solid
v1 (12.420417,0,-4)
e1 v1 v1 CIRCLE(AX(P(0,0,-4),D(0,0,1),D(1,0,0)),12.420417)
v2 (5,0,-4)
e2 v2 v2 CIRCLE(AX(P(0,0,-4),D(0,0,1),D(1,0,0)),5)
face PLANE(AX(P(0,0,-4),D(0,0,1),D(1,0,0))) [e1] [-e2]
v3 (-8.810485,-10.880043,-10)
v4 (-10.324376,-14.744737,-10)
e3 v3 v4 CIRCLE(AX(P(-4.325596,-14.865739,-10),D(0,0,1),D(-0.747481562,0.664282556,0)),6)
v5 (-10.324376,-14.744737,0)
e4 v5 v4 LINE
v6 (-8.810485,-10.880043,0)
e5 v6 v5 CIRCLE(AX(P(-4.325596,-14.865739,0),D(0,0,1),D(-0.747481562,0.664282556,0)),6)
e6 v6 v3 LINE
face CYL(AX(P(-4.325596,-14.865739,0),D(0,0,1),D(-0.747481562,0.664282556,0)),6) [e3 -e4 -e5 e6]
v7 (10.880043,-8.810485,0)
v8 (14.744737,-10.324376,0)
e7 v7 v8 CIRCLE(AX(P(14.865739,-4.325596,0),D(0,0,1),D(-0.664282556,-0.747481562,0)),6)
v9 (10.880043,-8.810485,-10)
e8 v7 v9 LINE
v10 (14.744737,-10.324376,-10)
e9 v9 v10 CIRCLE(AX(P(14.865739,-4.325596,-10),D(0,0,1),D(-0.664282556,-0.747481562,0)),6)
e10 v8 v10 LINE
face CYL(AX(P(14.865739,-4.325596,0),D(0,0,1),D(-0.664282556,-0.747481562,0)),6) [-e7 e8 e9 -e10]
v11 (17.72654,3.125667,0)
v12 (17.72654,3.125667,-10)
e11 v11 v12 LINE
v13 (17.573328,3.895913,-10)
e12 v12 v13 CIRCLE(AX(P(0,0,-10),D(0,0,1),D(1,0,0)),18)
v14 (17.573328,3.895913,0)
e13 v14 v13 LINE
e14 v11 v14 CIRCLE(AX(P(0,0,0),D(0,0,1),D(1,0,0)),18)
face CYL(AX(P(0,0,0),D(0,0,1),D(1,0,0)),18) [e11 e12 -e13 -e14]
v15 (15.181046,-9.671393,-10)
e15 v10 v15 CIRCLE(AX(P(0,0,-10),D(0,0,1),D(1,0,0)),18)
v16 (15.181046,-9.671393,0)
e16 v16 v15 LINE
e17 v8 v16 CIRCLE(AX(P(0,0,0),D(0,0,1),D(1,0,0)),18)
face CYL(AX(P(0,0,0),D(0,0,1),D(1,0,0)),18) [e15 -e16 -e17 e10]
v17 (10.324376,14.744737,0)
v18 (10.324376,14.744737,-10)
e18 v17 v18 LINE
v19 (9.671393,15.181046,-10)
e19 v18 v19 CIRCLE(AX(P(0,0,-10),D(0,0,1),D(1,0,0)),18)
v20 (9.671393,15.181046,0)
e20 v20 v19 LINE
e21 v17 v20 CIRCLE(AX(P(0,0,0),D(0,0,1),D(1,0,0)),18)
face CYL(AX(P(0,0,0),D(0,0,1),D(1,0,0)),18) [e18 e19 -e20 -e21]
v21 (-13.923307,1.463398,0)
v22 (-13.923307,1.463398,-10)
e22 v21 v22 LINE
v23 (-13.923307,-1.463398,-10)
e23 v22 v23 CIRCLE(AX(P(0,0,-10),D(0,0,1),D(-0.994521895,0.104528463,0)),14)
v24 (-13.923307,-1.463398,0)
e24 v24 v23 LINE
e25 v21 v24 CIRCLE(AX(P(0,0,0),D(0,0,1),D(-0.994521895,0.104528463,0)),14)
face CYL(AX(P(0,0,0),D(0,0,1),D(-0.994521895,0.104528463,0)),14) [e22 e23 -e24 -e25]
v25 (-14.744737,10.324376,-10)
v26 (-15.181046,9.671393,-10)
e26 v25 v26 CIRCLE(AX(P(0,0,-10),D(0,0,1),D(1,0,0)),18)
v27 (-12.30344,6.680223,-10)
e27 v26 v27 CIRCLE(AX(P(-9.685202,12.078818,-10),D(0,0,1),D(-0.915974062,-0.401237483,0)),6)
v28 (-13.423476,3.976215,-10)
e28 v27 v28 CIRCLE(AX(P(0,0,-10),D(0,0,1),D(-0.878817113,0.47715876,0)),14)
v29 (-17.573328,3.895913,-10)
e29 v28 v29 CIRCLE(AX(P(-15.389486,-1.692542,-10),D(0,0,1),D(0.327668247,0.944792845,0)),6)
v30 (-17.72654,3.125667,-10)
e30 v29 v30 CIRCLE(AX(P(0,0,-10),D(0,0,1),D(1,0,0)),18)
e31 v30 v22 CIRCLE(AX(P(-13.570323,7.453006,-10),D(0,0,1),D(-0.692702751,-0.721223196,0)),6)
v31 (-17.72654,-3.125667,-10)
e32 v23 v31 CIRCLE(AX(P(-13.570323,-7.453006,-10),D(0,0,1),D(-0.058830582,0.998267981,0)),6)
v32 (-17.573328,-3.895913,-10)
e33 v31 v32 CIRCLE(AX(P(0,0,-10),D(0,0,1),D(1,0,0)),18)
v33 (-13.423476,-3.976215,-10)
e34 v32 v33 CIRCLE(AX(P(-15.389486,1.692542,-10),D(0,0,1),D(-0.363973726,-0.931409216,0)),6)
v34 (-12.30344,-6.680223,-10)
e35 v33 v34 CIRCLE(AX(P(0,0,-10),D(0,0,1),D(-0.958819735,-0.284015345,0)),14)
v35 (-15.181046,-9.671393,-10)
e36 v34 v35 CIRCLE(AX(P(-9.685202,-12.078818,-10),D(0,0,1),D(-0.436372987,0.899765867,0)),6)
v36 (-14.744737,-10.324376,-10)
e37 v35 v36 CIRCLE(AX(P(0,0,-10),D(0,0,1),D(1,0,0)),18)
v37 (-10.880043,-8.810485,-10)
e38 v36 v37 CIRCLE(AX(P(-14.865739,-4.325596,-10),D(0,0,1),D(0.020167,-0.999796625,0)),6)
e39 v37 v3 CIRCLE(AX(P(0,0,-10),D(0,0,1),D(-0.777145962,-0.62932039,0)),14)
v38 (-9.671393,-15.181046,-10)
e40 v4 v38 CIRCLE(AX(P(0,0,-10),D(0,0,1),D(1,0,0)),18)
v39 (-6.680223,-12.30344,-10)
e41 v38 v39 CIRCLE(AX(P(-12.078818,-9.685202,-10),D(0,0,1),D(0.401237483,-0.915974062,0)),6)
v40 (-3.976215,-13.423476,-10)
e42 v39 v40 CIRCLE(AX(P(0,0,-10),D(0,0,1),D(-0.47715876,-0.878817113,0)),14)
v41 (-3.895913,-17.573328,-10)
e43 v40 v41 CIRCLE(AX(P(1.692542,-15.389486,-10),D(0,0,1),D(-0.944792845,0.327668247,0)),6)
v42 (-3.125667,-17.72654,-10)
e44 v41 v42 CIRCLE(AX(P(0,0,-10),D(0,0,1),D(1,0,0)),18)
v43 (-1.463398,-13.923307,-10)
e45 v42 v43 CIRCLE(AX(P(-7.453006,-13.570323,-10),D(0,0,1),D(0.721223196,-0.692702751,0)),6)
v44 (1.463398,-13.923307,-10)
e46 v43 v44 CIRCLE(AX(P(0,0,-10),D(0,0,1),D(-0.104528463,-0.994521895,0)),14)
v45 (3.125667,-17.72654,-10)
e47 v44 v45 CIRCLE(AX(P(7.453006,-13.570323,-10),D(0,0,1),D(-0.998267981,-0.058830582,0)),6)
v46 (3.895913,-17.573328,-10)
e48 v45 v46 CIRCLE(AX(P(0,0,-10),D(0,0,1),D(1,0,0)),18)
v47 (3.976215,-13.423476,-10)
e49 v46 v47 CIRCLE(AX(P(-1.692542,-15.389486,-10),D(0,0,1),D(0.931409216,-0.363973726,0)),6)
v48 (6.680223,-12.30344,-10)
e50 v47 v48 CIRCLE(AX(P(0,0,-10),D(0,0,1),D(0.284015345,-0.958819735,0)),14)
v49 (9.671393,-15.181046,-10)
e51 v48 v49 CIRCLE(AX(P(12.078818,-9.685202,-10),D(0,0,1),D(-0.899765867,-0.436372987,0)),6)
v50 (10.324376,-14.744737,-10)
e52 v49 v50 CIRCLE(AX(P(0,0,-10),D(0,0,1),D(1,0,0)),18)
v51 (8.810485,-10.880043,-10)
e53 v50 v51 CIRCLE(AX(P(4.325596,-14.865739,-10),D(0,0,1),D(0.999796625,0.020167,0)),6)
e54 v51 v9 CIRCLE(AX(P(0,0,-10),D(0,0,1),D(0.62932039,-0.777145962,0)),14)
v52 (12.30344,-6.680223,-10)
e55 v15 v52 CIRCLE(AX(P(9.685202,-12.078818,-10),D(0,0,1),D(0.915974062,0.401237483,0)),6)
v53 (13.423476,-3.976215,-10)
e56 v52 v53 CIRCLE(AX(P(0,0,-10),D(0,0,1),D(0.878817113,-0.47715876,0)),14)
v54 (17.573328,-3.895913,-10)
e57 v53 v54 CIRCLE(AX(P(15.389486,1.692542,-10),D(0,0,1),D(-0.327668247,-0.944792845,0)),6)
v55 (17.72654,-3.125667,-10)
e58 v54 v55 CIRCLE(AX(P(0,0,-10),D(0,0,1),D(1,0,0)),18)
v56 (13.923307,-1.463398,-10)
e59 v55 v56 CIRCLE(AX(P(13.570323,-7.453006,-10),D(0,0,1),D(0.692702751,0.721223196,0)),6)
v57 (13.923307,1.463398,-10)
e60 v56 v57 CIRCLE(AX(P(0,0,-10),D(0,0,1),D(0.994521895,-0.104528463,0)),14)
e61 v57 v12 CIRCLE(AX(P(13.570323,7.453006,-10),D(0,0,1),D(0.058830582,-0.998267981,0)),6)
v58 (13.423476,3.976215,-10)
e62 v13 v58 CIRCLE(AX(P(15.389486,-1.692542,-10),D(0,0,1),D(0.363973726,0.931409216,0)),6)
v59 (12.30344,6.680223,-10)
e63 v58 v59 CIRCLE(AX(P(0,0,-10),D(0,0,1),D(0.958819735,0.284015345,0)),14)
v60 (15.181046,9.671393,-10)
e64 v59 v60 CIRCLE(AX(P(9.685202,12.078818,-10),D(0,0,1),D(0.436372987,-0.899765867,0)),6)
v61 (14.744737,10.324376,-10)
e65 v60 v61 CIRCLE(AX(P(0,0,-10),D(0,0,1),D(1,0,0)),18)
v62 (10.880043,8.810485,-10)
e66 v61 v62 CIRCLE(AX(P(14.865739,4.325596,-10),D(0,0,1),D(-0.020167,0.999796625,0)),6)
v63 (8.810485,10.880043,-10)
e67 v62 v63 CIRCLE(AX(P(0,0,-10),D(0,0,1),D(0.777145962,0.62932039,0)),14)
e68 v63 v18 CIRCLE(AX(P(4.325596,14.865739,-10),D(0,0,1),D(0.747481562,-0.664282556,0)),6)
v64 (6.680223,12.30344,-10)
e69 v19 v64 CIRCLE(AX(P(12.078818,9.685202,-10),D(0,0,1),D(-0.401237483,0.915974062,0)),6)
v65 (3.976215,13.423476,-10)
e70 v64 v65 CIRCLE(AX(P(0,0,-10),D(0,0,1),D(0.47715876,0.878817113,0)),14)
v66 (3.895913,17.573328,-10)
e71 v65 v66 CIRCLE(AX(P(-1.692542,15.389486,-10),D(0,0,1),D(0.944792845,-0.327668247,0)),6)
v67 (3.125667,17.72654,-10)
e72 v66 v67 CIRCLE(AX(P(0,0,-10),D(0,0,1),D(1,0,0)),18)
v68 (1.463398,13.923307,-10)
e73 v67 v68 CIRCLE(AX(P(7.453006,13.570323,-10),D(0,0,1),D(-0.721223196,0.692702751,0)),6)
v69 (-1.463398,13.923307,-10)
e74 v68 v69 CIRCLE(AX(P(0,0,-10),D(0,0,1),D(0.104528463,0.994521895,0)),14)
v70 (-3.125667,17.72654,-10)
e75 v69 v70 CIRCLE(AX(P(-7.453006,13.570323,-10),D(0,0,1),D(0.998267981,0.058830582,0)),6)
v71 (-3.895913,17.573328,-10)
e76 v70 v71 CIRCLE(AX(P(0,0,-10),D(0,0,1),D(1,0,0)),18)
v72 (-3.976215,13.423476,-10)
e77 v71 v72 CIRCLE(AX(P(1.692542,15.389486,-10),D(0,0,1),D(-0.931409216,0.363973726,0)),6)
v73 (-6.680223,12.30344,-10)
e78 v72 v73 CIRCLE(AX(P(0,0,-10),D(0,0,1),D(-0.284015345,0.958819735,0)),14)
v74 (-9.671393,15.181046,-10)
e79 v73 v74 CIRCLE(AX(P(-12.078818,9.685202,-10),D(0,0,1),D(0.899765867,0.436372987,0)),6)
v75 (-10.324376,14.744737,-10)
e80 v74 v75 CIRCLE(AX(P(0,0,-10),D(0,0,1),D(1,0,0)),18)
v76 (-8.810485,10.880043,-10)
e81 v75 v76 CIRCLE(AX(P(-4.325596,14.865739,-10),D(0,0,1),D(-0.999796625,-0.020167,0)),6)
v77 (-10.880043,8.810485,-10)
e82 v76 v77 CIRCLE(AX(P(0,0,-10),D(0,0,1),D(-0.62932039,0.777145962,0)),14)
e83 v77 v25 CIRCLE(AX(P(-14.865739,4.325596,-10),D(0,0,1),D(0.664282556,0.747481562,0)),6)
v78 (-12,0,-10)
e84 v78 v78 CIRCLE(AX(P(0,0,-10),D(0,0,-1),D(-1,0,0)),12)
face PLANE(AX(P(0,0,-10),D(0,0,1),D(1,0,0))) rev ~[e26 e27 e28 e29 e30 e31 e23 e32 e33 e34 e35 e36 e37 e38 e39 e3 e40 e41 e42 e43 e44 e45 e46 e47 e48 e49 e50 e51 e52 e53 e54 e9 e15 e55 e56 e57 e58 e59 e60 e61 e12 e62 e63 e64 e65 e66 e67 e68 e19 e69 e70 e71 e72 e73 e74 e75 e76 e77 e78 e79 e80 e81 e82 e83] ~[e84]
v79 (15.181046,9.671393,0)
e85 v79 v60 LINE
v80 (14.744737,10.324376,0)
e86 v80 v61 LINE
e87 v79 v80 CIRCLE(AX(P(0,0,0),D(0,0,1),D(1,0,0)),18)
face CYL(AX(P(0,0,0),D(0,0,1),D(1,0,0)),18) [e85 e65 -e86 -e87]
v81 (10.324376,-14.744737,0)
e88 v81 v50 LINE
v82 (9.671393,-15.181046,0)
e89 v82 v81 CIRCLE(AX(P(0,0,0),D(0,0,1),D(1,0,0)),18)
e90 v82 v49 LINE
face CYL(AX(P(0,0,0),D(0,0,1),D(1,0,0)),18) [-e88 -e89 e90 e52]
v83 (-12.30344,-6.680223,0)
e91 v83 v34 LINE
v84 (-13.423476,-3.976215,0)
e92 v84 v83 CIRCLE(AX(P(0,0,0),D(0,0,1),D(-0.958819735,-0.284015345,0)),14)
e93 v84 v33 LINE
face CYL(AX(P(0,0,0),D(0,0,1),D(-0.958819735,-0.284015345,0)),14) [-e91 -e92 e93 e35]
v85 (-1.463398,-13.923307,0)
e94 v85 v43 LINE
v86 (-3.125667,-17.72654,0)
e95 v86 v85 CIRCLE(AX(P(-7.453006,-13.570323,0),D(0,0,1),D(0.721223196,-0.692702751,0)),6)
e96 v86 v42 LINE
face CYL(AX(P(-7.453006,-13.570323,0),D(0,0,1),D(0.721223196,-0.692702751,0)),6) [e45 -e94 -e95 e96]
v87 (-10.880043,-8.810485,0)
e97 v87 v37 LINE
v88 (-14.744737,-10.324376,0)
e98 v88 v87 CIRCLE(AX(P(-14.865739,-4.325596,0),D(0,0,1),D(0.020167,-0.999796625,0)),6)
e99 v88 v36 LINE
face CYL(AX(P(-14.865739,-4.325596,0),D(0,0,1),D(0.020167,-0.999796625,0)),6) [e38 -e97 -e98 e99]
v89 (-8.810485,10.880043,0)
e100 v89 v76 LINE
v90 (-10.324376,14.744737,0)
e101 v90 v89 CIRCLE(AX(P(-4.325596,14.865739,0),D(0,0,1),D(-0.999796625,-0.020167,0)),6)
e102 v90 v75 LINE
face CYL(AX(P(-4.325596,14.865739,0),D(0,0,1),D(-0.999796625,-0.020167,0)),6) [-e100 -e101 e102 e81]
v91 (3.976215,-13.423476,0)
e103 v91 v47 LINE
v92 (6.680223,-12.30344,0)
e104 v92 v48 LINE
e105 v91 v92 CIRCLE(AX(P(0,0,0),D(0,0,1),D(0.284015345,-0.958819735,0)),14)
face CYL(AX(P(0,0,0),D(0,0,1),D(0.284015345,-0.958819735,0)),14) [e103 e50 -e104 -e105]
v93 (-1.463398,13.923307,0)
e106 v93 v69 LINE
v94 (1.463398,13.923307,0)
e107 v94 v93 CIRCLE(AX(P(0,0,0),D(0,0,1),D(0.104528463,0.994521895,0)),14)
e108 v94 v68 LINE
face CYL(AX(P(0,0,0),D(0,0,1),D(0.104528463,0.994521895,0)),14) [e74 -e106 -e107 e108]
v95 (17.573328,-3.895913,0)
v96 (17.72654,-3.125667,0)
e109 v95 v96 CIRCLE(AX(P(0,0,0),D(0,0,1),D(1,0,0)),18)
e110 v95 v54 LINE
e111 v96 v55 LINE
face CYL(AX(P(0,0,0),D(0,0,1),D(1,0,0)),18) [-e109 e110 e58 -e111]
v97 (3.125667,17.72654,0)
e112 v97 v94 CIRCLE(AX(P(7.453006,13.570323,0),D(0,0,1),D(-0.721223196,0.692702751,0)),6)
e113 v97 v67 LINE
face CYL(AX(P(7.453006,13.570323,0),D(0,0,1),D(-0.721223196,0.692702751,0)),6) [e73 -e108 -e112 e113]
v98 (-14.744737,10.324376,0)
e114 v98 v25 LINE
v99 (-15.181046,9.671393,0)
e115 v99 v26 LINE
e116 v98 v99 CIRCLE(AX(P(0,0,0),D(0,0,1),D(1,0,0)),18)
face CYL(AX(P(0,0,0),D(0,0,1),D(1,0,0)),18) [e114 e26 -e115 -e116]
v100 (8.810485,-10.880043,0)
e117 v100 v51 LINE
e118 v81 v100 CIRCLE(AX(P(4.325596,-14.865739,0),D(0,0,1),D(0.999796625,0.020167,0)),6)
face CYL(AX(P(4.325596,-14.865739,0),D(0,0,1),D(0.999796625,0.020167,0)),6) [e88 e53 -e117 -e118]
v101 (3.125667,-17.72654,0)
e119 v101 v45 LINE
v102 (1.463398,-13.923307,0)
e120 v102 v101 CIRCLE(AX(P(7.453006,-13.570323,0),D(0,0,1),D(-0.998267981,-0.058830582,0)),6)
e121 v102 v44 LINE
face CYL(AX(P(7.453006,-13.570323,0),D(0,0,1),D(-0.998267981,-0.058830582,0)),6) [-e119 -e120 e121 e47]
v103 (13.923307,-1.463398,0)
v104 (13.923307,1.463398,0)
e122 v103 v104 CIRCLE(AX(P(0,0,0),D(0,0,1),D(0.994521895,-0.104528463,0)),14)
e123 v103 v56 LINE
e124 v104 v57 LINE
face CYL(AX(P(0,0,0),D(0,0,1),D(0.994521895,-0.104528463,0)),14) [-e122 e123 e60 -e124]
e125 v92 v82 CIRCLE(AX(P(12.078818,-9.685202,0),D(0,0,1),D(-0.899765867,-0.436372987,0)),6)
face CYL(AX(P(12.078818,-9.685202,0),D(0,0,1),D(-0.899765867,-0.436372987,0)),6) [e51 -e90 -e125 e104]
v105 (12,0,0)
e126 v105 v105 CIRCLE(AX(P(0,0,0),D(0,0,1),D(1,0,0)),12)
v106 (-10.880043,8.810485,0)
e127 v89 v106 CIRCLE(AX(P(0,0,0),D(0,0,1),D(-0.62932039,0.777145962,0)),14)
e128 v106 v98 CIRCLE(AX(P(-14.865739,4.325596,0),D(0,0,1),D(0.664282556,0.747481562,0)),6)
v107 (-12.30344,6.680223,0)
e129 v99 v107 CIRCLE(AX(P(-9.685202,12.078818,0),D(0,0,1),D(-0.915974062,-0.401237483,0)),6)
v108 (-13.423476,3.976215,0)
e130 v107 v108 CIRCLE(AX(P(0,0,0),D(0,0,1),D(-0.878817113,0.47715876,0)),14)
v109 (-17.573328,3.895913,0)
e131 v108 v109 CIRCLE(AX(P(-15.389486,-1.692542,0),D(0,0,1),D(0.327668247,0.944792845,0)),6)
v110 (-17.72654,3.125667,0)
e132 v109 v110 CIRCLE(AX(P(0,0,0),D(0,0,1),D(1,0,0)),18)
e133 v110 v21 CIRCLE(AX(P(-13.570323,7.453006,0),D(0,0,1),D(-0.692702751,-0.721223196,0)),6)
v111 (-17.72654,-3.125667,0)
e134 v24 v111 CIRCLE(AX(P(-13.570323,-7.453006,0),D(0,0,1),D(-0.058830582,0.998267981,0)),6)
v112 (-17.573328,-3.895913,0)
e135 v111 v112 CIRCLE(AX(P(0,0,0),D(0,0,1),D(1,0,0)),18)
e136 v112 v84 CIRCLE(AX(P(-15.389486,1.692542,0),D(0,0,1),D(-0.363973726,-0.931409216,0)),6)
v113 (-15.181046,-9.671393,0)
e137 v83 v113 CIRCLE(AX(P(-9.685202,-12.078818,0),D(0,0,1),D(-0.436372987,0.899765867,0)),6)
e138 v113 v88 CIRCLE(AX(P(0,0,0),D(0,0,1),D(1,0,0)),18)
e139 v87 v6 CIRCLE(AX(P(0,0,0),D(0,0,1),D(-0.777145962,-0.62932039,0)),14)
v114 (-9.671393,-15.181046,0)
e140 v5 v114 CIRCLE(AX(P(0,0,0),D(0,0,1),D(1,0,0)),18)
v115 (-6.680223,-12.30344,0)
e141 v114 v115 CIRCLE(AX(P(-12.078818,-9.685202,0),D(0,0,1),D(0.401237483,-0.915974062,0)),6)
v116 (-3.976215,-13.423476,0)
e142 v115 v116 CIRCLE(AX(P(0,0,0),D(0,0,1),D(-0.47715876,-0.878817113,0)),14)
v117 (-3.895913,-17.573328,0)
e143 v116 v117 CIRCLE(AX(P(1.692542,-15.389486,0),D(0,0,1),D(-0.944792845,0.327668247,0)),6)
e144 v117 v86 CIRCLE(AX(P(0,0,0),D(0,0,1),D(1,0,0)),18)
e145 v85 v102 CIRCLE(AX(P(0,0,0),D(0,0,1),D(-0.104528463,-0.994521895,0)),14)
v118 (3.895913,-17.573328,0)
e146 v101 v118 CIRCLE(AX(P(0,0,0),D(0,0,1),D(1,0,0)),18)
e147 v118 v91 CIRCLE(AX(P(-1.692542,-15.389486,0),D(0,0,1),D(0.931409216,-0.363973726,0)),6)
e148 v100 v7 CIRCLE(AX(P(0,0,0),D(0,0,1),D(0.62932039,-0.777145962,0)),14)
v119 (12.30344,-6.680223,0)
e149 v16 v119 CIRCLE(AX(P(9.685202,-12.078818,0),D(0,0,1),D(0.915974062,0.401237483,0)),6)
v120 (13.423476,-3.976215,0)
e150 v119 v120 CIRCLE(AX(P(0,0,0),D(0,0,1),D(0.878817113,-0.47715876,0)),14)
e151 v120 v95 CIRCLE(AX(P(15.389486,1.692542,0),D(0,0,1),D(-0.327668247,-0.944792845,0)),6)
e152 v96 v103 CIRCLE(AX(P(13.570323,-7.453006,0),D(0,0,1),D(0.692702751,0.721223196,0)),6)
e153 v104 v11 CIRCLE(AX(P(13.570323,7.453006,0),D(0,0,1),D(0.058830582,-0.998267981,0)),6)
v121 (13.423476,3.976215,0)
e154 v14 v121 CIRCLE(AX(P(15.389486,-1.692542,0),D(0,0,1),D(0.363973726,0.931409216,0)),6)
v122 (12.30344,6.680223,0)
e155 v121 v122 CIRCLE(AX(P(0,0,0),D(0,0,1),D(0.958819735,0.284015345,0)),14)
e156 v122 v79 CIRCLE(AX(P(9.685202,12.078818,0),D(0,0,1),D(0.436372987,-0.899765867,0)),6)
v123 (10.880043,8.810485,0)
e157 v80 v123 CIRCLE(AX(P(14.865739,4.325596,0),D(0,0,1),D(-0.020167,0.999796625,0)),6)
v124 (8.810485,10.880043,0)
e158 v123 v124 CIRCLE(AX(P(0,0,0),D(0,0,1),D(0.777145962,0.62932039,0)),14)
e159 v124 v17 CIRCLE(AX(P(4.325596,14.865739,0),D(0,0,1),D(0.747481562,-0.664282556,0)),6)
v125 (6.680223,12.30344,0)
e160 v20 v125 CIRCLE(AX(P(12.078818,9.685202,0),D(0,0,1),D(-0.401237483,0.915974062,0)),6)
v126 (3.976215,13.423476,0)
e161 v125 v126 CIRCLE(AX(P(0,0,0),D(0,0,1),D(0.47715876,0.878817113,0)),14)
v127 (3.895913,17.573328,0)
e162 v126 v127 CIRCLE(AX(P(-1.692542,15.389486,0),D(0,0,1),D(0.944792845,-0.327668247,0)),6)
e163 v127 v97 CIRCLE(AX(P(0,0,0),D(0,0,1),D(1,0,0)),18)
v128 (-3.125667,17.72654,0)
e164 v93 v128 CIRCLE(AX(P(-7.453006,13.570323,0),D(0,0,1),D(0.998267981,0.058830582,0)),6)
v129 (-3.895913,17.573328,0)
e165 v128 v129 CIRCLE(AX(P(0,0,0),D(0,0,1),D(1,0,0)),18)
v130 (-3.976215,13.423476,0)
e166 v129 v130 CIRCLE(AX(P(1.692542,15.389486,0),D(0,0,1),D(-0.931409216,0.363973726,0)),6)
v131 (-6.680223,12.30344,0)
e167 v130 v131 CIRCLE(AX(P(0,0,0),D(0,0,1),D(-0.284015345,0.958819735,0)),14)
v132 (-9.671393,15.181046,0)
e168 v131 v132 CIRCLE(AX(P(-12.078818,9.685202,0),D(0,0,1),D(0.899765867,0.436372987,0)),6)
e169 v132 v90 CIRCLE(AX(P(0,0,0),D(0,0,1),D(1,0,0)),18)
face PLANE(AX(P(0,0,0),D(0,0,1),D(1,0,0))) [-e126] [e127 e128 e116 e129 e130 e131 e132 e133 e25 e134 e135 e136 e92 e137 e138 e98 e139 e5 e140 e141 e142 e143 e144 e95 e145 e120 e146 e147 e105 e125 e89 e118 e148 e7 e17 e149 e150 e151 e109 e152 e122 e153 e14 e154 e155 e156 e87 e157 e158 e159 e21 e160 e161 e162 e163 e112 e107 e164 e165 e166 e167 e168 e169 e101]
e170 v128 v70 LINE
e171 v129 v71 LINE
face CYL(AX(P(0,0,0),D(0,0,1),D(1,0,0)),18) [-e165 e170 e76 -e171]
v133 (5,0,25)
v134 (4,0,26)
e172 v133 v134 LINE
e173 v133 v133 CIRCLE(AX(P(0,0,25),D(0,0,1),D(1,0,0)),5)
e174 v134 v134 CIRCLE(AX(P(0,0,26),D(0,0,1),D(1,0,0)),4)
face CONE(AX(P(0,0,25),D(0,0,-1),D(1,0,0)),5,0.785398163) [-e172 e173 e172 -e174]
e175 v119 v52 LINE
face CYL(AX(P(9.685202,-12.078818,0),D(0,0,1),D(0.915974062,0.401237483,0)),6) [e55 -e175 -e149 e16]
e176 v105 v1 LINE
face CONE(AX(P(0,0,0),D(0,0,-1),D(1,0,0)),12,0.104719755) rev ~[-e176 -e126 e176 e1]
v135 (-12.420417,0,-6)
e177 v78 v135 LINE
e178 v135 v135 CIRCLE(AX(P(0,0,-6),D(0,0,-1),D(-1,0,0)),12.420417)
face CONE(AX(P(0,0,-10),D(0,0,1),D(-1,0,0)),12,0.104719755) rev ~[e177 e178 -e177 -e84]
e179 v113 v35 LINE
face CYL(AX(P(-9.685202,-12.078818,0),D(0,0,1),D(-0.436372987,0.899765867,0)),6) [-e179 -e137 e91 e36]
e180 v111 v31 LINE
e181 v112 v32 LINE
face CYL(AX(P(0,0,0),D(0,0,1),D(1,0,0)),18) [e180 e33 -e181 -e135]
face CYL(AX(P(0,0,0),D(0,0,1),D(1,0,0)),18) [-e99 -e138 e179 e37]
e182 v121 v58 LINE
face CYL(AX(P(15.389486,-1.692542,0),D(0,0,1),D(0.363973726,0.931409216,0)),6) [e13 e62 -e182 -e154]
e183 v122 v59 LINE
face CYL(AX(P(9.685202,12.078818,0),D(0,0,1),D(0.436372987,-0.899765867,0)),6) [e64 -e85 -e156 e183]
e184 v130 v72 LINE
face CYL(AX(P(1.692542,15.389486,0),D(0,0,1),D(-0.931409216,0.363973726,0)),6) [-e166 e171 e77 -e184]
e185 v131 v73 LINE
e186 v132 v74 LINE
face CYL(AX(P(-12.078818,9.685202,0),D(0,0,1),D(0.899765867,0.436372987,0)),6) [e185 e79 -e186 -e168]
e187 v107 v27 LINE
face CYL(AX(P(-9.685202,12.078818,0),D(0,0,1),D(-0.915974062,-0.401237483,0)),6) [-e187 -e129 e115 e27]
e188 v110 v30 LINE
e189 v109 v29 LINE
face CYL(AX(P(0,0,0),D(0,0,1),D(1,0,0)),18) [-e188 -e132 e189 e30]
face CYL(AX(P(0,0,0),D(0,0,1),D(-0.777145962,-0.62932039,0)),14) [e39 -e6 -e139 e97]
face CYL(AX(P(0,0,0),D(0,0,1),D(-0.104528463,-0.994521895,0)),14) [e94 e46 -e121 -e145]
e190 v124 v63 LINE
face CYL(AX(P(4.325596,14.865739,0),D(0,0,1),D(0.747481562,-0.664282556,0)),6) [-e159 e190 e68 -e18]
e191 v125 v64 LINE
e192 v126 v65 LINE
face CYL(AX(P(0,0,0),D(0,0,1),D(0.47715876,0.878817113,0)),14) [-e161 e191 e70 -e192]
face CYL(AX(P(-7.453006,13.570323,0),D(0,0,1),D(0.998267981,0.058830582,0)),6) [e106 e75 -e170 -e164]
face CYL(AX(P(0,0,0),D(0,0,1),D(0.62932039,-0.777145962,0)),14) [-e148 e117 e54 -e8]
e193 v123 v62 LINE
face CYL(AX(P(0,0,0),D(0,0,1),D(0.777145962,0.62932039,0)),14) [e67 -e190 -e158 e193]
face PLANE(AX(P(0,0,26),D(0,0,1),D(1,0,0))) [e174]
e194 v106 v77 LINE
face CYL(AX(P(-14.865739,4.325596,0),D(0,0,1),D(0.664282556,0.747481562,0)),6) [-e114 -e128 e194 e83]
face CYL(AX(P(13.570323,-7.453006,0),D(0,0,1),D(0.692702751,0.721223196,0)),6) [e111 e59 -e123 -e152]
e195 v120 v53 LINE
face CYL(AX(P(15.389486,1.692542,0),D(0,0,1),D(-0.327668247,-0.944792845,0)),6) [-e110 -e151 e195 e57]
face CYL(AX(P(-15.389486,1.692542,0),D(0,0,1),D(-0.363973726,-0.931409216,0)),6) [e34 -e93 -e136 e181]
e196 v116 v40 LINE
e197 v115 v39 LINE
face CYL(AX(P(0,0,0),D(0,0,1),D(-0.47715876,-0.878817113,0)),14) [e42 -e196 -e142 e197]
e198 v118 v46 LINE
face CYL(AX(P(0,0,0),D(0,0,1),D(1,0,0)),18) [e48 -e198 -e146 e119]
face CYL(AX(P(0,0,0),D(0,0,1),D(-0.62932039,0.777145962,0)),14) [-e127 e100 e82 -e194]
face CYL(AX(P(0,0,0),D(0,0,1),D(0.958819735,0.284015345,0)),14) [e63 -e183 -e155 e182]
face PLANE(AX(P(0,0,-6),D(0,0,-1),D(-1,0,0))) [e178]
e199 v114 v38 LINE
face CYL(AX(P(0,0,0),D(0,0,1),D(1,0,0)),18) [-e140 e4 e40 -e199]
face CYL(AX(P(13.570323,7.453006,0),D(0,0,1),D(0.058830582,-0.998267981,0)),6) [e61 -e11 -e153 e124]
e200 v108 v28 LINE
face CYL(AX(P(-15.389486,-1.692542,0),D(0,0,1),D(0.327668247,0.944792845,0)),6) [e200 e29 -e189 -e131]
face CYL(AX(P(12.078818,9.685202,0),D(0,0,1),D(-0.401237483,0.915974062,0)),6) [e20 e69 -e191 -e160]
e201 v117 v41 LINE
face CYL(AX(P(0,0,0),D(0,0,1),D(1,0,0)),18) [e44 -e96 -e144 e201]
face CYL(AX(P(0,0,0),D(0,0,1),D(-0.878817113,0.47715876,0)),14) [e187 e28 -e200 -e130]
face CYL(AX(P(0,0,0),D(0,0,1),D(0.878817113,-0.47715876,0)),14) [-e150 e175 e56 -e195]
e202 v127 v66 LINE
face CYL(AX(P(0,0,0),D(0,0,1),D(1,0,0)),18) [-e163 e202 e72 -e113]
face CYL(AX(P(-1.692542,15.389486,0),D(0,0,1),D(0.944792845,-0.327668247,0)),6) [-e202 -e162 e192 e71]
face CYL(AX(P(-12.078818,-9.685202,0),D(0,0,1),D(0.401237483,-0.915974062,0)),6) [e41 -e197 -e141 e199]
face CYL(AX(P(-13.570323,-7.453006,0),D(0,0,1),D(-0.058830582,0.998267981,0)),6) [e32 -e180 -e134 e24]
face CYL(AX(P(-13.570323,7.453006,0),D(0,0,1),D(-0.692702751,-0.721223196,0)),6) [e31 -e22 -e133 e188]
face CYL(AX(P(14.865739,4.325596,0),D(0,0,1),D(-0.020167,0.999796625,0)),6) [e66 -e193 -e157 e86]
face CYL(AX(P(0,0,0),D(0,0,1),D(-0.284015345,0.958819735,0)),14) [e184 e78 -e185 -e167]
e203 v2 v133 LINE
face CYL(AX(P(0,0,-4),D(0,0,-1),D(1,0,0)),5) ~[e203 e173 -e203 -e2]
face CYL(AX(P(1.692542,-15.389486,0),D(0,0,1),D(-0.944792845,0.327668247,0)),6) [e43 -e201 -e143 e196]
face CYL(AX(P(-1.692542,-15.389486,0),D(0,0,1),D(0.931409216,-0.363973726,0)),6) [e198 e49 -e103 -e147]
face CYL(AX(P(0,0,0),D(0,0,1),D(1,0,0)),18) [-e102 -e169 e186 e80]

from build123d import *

# Parameters (mm, degrees)
SKETCH_1_R          = 18
EXTRUDE_1_DEPTH     = 10
CUT_EXTRUDE_2_DEPTH = 28.349588662
SKETCH_4_R          = 12
CUT_EXTRUDE_3_DEPTH = 4
CUT_EXTRUDE_3_DRAFT = 6
SKETCH_5_R          = 5
EXTRUDE_2_DEPTH     = 30
CHAMFER_1_SIZE      = 1
SKETCH_6_R          = 12
CUT_EXTRUDE_4_DEPTH = 4
CUT_EXTRUDE_4_DRAFT = 6


with BuildPart() as part:
    # Эскиз1 → Бобышка-Вытянуть1 (new body)
    with BuildSketch(Plane.XY):
        Circle(SKETCH_1_R)
    extrude(amount=-EXTRUDE_1_DEPTH)

    # Эскиз3 → Вырез-Вытянуть2 (cut, through all)
    with BuildSketch(Plane.XY):
        with BuildLine():
            ThreePointArc((1.463398486, 13.923306535), (0, 14), (-1.463398486, 13.923306535))
            ThreePointArc((-1.463398486, 13.923306535), (-1.955189123, 15.973239081), (-3.125667198, 17.726539554))
            ThreePointArc((-3.125667198, 17.726539554), (0, 18), (3.125667198, 17.726539554))
            ThreePointArc((3.125667198, 17.726539554), (1.955189123, 15.973239081), (1.463398486, 13.923306535))
        make_face()
        with BuildLine():
            ThreePointArc((6.680222644, 12.303439577), (5.357568053, 12.934313455), (3.976214826, 13.423476288))
            ThreePointArc((3.976214826, 13.423476288), (4.306334745, 15.505567139), (3.895913051, 17.573328128))
            ThreePointArc((3.895913051, 17.573328128), (6.888301783, 16.629831585), (9.67139295, 15.181046025))
            ThreePointArc((9.67139295, 15.181046025), (7.91905317, 14.009130171), (6.680222644, 12.303439577))
        make_face()
        with BuildLine():
            ThreePointArc((10.88004346, 8.810485475), (9.899494937, 9.899494937), (8.810485475, 10.88004346))
            ThreePointArc((8.810485475, 10.88004346), (9.912258185, 12.677313159), (10.324375854, 14.744736797))
            ThreePointArc((10.324375854, 14.744736797), (12.727922061, 12.727922061), (14.744736797, 10.324375854))
            ThreePointArc((14.744736797, 10.324375854), (12.677313159, 9.912258185), (10.88004346, 8.810485475))
        make_face()
        with BuildLine():
            ThreePointArc((13.423476288, 3.976214826), (12.934313455, 5.357568053), (12.303439577, 6.680222644))
            ThreePointArc((12.303439577, 6.680222644), (14.009130171, 7.91905317), (15.181046025, 9.67139295))
            ThreePointArc((15.181046025, 9.67139295), (16.629831585, 6.888301783), (17.573328128, 3.895913051))
            ThreePointArc((17.573328128, 3.895913051), (15.505567139, 4.306334745), (13.423476288, 3.976214826))
        make_face()
        with BuildLine():
            ThreePointArc((13.923306535, -1.463398486), (14, 0), (13.923306535, 1.463398486))
            ThreePointArc((13.923306535, 1.463398486), (15.973239081, 1.955189123), (17.726539554, 3.125667198))
            ThreePointArc((17.726539554, 3.125667198), (18, 0), (17.726539554, -3.125667198))
            ThreePointArc((17.726539554, -3.125667198), (15.973239081, -1.955189123), (13.923306535, -1.463398486))
        make_face()
        with BuildLine():
            ThreePointArc((12.303439577, -6.680222644), (12.934313455, -5.357568053), (13.423476288, -3.976214826))
            ThreePointArc((13.423476288, -3.976214826), (15.505567139, -4.306334745), (17.573328128, -3.895913051))
            ThreePointArc((17.573328128, -3.895913051), (16.629831585, -6.888301783), (15.181046025, -9.67139295))
            ThreePointArc((15.181046025, -9.67139295), (14.009130171, -7.91905317), (12.303439577, -6.680222644))
        make_face()
        with BuildLine():
            ThreePointArc((8.810485475, -10.88004346), (9.899494937, -9.899494937), (10.88004346, -8.810485475))
            ThreePointArc((10.88004346, -8.810485475), (12.677313159, -9.912258185), (14.744736797, -10.324375854))
            ThreePointArc((14.744736797, -10.324375854), (12.727922061, -12.727922061), (10.324375854, -14.744736797))
            ThreePointArc((10.324375854, -14.744736797), (9.912258185, -12.677313159), (8.810485475, -10.88004346))
        make_face()
        with BuildLine():
            ThreePointArc((3.976214826, -13.423476288), (5.357568053, -12.934313455), (6.680222644, -12.303439577))
            ThreePointArc((6.680222644, -12.303439577), (7.91905317, -14.009130171), (9.67139295, -15.181046025))
            ThreePointArc((9.67139295, -15.181046025), (6.888301783, -16.629831585), (3.895913051, -17.573328128))
            ThreePointArc((3.895913051, -17.573328128), (4.306334745, -15.505567139), (3.976214826, -13.423476288))
        make_face()
        with BuildLine():
            ThreePointArc((-1.463398486, -13.923306535), (0, -14), (1.463398486, -13.923306535))
            ThreePointArc((1.463398486, -13.923306535), (1.955189123, -15.973239081), (3.125667198, -17.726539554))
            ThreePointArc((3.125667198, -17.726539554), (0, -18), (-3.125667198, -17.726539554))
            ThreePointArc((-3.125667198, -17.726539554), (-1.955189123, -15.973239081), (-1.463398486, -13.923306535))
        make_face()
        with BuildLine():
            ThreePointArc((-6.680222644, -12.303439577), (-5.357568053, -12.934313455), (-3.976214826, -13.423476288))
            ThreePointArc((-3.976214826, -13.423476288), (-4.306334745, -15.505567139), (-3.895913051, -17.573328128))
            ThreePointArc((-3.895913051, -17.573328128), (-6.888301783, -16.629831585), (-9.67139295, -15.181046025))
            ThreePointArc((-9.67139295, -15.181046025), (-7.91905317, -14.009130171), (-6.680222644, -12.303439577))
        make_face()
        with BuildLine():
            ThreePointArc((-10.88004346, -8.810485475), (-9.899494937, -9.899494937), (-8.810485475, -10.88004346))
            ThreePointArc((-8.810485475, -10.88004346), (-9.912258185, -12.677313159), (-10.324375854, -14.744736797))
            ThreePointArc((-10.324375854, -14.744736797), (-12.727922061, -12.727922061), (-14.744736797, -10.324375854))
            ThreePointArc((-14.744736797, -10.324375854), (-12.677313159, -9.912258185), (-10.88004346, -8.810485475))
        make_face()
        with BuildLine():
            ThreePointArc((-13.423476288, -3.976214826), (-12.934313455, -5.357568053), (-12.303439577, -6.680222644))
            ThreePointArc((-12.303439577, -6.680222644), (-14.009130171, -7.91905317), (-15.181046025, -9.67139295))
            ThreePointArc((-15.181046025, -9.67139295), (-16.629831585, -6.888301783), (-17.573328128, -3.895913051))
            ThreePointArc((-17.573328128, -3.895913051), (-15.505567139, -4.306334745), (-13.423476288, -3.976214826))
        make_face()
        with BuildLine():
            ThreePointArc((-13.923306535, 1.463398486), (-14, 0), (-13.923306535, -1.463398486))
            ThreePointArc((-13.923306535, -1.463398486), (-15.973239081, -1.955189123), (-17.726539554, -3.125667198))
            ThreePointArc((-17.726539554, -3.125667198), (-18, 0), (-17.726539554, 3.125667198))
            ThreePointArc((-17.726539554, 3.125667198), (-15.973239081, 1.955189123), (-13.923306535, 1.463398486))
        make_face()
        with BuildLine():
            ThreePointArc((-12.303439577, 6.680222644), (-12.934313455, 5.357568053), (-13.423476288, 3.976214826))
            ThreePointArc((-13.423476288, 3.976214826), (-15.505567139, 4.306334745), (-17.573328128, 3.895913051))
            ThreePointArc((-17.573328128, 3.895913051), (-16.629831585, 6.888301783), (-15.181046025, 9.67139295))
            ThreePointArc((-15.181046025, 9.67139295), (-14.009130171, 7.91905317), (-12.303439577, 6.680222644))
        make_face()
        with BuildLine():
            ThreePointArc((-8.810485475, 10.88004346), (-9.899494937, 9.899494937), (-10.88004346, 8.810485475))
            ThreePointArc((-10.88004346, 8.810485475), (-12.677313159, 9.912258185), (-14.744736797, 10.324375854))
            ThreePointArc((-14.744736797, 10.324375854), (-12.727922061, 12.727922061), (-10.324375854, 14.744736797))
            ThreePointArc((-10.324375854, 14.744736797), (-9.912258185, 12.677313159), (-8.810485475, 10.88004346))
        make_face()
        with BuildLine():
            ThreePointArc((-3.976214826, 13.423476288), (-5.357568053, 12.934313455), (-6.680222644, 12.303439577))
            ThreePointArc((-6.680222644, 12.303439577), (-7.91905317, 14.009130171), (-9.67139295, 15.181046025))
            ThreePointArc((-9.67139295, 15.181046025), (-6.888301783, 16.629831585), (-3.895913051, 17.573328128))
            ThreePointArc((-3.895913051, 17.573328128), (-4.306334745, 15.505567139), (-3.976214826, 13.423476288))
        make_face()
    extrude(amount=-CUT_EXTRUDE_2_DEPTH, mode=Mode.SUBTRACT)


with BuildPart() as cut_extrude_3_tool:
    # Эскиз4 → Вырез-Вытянуть3 (with draft: the straight prism first)
    with BuildSketch(Plane.XY):
        Circle(SKETCH_4_R)
    extrude(amount=-CUT_EXTRUDE_3_DEPTH)
    # Вырез-Вытянуть3: the draft: its side faces are tilted about the plane it starts from
    cut_extrude_3_sides = [cut_extrude_3_tool.faces().sort_by_distance(p)[0] for p in [
        (-12, 0, -2),
    ]]
    draft(cut_extrude_3_sides, Plane.XY, CUT_EXTRUDE_3_DRAFT)


with BuildPart() as part_1:
    add(part.part)

    # Вырез-Вытянуть3: cut by cut_extrude_3_tool
    add(cut_extrude_3_tool.part, mode=Mode.SUBTRACT)

    # Эскиз5 → Бобышка-Вытянуть2 (add)
    with BuildSketch(Plane.XY.offset(-4)):
        Circle(SKETCH_5_R)
    extrude(amount=EXTRUDE_2_DEPTH)

    # Фаска1
    chamfer_1_edges = [part_1.edges().sort_by_distance(p)[0] for p in [
        (-5, 0, 26),
    ]]
    chamfer(chamfer_1_edges, length=CHAMFER_1_SIZE)


with BuildPart() as cut_extrude_4_tool:
    # Эскиз6 → Вырез-Вытянуть4 (with draft: the straight prism first)
    with BuildSketch(Plane(origin=(0, 0, -10), x_dir=(-1, 0, 0), z_dir=(0, 0, -1))):
        Circle(SKETCH_6_R)
    extrude(amount=-CUT_EXTRUDE_4_DEPTH)
    # Вырез-Вытянуть4: the draft: its side faces are tilted about the plane it starts from
    cut_extrude_4_sides = [cut_extrude_4_tool.faces().sort_by_distance(p)[0] for p in [
        (12, 0, -8),
    ]]
    draft(cut_extrude_4_sides, Plane(origin=(0, 0, -10), x_dir=(-1, 0, 0), z_dir=(0, 0, -1)), CUT_EXTRUDE_4_DRAFT)


with BuildPart() as part_2:
    add(part_1.part)

    # Вырез-Вытянуть4: cut by cut_extrude_4_tool
    add(cut_extrude_4_tool.part, mode=Mode.SUBTRACT)


solid = part_2.part
